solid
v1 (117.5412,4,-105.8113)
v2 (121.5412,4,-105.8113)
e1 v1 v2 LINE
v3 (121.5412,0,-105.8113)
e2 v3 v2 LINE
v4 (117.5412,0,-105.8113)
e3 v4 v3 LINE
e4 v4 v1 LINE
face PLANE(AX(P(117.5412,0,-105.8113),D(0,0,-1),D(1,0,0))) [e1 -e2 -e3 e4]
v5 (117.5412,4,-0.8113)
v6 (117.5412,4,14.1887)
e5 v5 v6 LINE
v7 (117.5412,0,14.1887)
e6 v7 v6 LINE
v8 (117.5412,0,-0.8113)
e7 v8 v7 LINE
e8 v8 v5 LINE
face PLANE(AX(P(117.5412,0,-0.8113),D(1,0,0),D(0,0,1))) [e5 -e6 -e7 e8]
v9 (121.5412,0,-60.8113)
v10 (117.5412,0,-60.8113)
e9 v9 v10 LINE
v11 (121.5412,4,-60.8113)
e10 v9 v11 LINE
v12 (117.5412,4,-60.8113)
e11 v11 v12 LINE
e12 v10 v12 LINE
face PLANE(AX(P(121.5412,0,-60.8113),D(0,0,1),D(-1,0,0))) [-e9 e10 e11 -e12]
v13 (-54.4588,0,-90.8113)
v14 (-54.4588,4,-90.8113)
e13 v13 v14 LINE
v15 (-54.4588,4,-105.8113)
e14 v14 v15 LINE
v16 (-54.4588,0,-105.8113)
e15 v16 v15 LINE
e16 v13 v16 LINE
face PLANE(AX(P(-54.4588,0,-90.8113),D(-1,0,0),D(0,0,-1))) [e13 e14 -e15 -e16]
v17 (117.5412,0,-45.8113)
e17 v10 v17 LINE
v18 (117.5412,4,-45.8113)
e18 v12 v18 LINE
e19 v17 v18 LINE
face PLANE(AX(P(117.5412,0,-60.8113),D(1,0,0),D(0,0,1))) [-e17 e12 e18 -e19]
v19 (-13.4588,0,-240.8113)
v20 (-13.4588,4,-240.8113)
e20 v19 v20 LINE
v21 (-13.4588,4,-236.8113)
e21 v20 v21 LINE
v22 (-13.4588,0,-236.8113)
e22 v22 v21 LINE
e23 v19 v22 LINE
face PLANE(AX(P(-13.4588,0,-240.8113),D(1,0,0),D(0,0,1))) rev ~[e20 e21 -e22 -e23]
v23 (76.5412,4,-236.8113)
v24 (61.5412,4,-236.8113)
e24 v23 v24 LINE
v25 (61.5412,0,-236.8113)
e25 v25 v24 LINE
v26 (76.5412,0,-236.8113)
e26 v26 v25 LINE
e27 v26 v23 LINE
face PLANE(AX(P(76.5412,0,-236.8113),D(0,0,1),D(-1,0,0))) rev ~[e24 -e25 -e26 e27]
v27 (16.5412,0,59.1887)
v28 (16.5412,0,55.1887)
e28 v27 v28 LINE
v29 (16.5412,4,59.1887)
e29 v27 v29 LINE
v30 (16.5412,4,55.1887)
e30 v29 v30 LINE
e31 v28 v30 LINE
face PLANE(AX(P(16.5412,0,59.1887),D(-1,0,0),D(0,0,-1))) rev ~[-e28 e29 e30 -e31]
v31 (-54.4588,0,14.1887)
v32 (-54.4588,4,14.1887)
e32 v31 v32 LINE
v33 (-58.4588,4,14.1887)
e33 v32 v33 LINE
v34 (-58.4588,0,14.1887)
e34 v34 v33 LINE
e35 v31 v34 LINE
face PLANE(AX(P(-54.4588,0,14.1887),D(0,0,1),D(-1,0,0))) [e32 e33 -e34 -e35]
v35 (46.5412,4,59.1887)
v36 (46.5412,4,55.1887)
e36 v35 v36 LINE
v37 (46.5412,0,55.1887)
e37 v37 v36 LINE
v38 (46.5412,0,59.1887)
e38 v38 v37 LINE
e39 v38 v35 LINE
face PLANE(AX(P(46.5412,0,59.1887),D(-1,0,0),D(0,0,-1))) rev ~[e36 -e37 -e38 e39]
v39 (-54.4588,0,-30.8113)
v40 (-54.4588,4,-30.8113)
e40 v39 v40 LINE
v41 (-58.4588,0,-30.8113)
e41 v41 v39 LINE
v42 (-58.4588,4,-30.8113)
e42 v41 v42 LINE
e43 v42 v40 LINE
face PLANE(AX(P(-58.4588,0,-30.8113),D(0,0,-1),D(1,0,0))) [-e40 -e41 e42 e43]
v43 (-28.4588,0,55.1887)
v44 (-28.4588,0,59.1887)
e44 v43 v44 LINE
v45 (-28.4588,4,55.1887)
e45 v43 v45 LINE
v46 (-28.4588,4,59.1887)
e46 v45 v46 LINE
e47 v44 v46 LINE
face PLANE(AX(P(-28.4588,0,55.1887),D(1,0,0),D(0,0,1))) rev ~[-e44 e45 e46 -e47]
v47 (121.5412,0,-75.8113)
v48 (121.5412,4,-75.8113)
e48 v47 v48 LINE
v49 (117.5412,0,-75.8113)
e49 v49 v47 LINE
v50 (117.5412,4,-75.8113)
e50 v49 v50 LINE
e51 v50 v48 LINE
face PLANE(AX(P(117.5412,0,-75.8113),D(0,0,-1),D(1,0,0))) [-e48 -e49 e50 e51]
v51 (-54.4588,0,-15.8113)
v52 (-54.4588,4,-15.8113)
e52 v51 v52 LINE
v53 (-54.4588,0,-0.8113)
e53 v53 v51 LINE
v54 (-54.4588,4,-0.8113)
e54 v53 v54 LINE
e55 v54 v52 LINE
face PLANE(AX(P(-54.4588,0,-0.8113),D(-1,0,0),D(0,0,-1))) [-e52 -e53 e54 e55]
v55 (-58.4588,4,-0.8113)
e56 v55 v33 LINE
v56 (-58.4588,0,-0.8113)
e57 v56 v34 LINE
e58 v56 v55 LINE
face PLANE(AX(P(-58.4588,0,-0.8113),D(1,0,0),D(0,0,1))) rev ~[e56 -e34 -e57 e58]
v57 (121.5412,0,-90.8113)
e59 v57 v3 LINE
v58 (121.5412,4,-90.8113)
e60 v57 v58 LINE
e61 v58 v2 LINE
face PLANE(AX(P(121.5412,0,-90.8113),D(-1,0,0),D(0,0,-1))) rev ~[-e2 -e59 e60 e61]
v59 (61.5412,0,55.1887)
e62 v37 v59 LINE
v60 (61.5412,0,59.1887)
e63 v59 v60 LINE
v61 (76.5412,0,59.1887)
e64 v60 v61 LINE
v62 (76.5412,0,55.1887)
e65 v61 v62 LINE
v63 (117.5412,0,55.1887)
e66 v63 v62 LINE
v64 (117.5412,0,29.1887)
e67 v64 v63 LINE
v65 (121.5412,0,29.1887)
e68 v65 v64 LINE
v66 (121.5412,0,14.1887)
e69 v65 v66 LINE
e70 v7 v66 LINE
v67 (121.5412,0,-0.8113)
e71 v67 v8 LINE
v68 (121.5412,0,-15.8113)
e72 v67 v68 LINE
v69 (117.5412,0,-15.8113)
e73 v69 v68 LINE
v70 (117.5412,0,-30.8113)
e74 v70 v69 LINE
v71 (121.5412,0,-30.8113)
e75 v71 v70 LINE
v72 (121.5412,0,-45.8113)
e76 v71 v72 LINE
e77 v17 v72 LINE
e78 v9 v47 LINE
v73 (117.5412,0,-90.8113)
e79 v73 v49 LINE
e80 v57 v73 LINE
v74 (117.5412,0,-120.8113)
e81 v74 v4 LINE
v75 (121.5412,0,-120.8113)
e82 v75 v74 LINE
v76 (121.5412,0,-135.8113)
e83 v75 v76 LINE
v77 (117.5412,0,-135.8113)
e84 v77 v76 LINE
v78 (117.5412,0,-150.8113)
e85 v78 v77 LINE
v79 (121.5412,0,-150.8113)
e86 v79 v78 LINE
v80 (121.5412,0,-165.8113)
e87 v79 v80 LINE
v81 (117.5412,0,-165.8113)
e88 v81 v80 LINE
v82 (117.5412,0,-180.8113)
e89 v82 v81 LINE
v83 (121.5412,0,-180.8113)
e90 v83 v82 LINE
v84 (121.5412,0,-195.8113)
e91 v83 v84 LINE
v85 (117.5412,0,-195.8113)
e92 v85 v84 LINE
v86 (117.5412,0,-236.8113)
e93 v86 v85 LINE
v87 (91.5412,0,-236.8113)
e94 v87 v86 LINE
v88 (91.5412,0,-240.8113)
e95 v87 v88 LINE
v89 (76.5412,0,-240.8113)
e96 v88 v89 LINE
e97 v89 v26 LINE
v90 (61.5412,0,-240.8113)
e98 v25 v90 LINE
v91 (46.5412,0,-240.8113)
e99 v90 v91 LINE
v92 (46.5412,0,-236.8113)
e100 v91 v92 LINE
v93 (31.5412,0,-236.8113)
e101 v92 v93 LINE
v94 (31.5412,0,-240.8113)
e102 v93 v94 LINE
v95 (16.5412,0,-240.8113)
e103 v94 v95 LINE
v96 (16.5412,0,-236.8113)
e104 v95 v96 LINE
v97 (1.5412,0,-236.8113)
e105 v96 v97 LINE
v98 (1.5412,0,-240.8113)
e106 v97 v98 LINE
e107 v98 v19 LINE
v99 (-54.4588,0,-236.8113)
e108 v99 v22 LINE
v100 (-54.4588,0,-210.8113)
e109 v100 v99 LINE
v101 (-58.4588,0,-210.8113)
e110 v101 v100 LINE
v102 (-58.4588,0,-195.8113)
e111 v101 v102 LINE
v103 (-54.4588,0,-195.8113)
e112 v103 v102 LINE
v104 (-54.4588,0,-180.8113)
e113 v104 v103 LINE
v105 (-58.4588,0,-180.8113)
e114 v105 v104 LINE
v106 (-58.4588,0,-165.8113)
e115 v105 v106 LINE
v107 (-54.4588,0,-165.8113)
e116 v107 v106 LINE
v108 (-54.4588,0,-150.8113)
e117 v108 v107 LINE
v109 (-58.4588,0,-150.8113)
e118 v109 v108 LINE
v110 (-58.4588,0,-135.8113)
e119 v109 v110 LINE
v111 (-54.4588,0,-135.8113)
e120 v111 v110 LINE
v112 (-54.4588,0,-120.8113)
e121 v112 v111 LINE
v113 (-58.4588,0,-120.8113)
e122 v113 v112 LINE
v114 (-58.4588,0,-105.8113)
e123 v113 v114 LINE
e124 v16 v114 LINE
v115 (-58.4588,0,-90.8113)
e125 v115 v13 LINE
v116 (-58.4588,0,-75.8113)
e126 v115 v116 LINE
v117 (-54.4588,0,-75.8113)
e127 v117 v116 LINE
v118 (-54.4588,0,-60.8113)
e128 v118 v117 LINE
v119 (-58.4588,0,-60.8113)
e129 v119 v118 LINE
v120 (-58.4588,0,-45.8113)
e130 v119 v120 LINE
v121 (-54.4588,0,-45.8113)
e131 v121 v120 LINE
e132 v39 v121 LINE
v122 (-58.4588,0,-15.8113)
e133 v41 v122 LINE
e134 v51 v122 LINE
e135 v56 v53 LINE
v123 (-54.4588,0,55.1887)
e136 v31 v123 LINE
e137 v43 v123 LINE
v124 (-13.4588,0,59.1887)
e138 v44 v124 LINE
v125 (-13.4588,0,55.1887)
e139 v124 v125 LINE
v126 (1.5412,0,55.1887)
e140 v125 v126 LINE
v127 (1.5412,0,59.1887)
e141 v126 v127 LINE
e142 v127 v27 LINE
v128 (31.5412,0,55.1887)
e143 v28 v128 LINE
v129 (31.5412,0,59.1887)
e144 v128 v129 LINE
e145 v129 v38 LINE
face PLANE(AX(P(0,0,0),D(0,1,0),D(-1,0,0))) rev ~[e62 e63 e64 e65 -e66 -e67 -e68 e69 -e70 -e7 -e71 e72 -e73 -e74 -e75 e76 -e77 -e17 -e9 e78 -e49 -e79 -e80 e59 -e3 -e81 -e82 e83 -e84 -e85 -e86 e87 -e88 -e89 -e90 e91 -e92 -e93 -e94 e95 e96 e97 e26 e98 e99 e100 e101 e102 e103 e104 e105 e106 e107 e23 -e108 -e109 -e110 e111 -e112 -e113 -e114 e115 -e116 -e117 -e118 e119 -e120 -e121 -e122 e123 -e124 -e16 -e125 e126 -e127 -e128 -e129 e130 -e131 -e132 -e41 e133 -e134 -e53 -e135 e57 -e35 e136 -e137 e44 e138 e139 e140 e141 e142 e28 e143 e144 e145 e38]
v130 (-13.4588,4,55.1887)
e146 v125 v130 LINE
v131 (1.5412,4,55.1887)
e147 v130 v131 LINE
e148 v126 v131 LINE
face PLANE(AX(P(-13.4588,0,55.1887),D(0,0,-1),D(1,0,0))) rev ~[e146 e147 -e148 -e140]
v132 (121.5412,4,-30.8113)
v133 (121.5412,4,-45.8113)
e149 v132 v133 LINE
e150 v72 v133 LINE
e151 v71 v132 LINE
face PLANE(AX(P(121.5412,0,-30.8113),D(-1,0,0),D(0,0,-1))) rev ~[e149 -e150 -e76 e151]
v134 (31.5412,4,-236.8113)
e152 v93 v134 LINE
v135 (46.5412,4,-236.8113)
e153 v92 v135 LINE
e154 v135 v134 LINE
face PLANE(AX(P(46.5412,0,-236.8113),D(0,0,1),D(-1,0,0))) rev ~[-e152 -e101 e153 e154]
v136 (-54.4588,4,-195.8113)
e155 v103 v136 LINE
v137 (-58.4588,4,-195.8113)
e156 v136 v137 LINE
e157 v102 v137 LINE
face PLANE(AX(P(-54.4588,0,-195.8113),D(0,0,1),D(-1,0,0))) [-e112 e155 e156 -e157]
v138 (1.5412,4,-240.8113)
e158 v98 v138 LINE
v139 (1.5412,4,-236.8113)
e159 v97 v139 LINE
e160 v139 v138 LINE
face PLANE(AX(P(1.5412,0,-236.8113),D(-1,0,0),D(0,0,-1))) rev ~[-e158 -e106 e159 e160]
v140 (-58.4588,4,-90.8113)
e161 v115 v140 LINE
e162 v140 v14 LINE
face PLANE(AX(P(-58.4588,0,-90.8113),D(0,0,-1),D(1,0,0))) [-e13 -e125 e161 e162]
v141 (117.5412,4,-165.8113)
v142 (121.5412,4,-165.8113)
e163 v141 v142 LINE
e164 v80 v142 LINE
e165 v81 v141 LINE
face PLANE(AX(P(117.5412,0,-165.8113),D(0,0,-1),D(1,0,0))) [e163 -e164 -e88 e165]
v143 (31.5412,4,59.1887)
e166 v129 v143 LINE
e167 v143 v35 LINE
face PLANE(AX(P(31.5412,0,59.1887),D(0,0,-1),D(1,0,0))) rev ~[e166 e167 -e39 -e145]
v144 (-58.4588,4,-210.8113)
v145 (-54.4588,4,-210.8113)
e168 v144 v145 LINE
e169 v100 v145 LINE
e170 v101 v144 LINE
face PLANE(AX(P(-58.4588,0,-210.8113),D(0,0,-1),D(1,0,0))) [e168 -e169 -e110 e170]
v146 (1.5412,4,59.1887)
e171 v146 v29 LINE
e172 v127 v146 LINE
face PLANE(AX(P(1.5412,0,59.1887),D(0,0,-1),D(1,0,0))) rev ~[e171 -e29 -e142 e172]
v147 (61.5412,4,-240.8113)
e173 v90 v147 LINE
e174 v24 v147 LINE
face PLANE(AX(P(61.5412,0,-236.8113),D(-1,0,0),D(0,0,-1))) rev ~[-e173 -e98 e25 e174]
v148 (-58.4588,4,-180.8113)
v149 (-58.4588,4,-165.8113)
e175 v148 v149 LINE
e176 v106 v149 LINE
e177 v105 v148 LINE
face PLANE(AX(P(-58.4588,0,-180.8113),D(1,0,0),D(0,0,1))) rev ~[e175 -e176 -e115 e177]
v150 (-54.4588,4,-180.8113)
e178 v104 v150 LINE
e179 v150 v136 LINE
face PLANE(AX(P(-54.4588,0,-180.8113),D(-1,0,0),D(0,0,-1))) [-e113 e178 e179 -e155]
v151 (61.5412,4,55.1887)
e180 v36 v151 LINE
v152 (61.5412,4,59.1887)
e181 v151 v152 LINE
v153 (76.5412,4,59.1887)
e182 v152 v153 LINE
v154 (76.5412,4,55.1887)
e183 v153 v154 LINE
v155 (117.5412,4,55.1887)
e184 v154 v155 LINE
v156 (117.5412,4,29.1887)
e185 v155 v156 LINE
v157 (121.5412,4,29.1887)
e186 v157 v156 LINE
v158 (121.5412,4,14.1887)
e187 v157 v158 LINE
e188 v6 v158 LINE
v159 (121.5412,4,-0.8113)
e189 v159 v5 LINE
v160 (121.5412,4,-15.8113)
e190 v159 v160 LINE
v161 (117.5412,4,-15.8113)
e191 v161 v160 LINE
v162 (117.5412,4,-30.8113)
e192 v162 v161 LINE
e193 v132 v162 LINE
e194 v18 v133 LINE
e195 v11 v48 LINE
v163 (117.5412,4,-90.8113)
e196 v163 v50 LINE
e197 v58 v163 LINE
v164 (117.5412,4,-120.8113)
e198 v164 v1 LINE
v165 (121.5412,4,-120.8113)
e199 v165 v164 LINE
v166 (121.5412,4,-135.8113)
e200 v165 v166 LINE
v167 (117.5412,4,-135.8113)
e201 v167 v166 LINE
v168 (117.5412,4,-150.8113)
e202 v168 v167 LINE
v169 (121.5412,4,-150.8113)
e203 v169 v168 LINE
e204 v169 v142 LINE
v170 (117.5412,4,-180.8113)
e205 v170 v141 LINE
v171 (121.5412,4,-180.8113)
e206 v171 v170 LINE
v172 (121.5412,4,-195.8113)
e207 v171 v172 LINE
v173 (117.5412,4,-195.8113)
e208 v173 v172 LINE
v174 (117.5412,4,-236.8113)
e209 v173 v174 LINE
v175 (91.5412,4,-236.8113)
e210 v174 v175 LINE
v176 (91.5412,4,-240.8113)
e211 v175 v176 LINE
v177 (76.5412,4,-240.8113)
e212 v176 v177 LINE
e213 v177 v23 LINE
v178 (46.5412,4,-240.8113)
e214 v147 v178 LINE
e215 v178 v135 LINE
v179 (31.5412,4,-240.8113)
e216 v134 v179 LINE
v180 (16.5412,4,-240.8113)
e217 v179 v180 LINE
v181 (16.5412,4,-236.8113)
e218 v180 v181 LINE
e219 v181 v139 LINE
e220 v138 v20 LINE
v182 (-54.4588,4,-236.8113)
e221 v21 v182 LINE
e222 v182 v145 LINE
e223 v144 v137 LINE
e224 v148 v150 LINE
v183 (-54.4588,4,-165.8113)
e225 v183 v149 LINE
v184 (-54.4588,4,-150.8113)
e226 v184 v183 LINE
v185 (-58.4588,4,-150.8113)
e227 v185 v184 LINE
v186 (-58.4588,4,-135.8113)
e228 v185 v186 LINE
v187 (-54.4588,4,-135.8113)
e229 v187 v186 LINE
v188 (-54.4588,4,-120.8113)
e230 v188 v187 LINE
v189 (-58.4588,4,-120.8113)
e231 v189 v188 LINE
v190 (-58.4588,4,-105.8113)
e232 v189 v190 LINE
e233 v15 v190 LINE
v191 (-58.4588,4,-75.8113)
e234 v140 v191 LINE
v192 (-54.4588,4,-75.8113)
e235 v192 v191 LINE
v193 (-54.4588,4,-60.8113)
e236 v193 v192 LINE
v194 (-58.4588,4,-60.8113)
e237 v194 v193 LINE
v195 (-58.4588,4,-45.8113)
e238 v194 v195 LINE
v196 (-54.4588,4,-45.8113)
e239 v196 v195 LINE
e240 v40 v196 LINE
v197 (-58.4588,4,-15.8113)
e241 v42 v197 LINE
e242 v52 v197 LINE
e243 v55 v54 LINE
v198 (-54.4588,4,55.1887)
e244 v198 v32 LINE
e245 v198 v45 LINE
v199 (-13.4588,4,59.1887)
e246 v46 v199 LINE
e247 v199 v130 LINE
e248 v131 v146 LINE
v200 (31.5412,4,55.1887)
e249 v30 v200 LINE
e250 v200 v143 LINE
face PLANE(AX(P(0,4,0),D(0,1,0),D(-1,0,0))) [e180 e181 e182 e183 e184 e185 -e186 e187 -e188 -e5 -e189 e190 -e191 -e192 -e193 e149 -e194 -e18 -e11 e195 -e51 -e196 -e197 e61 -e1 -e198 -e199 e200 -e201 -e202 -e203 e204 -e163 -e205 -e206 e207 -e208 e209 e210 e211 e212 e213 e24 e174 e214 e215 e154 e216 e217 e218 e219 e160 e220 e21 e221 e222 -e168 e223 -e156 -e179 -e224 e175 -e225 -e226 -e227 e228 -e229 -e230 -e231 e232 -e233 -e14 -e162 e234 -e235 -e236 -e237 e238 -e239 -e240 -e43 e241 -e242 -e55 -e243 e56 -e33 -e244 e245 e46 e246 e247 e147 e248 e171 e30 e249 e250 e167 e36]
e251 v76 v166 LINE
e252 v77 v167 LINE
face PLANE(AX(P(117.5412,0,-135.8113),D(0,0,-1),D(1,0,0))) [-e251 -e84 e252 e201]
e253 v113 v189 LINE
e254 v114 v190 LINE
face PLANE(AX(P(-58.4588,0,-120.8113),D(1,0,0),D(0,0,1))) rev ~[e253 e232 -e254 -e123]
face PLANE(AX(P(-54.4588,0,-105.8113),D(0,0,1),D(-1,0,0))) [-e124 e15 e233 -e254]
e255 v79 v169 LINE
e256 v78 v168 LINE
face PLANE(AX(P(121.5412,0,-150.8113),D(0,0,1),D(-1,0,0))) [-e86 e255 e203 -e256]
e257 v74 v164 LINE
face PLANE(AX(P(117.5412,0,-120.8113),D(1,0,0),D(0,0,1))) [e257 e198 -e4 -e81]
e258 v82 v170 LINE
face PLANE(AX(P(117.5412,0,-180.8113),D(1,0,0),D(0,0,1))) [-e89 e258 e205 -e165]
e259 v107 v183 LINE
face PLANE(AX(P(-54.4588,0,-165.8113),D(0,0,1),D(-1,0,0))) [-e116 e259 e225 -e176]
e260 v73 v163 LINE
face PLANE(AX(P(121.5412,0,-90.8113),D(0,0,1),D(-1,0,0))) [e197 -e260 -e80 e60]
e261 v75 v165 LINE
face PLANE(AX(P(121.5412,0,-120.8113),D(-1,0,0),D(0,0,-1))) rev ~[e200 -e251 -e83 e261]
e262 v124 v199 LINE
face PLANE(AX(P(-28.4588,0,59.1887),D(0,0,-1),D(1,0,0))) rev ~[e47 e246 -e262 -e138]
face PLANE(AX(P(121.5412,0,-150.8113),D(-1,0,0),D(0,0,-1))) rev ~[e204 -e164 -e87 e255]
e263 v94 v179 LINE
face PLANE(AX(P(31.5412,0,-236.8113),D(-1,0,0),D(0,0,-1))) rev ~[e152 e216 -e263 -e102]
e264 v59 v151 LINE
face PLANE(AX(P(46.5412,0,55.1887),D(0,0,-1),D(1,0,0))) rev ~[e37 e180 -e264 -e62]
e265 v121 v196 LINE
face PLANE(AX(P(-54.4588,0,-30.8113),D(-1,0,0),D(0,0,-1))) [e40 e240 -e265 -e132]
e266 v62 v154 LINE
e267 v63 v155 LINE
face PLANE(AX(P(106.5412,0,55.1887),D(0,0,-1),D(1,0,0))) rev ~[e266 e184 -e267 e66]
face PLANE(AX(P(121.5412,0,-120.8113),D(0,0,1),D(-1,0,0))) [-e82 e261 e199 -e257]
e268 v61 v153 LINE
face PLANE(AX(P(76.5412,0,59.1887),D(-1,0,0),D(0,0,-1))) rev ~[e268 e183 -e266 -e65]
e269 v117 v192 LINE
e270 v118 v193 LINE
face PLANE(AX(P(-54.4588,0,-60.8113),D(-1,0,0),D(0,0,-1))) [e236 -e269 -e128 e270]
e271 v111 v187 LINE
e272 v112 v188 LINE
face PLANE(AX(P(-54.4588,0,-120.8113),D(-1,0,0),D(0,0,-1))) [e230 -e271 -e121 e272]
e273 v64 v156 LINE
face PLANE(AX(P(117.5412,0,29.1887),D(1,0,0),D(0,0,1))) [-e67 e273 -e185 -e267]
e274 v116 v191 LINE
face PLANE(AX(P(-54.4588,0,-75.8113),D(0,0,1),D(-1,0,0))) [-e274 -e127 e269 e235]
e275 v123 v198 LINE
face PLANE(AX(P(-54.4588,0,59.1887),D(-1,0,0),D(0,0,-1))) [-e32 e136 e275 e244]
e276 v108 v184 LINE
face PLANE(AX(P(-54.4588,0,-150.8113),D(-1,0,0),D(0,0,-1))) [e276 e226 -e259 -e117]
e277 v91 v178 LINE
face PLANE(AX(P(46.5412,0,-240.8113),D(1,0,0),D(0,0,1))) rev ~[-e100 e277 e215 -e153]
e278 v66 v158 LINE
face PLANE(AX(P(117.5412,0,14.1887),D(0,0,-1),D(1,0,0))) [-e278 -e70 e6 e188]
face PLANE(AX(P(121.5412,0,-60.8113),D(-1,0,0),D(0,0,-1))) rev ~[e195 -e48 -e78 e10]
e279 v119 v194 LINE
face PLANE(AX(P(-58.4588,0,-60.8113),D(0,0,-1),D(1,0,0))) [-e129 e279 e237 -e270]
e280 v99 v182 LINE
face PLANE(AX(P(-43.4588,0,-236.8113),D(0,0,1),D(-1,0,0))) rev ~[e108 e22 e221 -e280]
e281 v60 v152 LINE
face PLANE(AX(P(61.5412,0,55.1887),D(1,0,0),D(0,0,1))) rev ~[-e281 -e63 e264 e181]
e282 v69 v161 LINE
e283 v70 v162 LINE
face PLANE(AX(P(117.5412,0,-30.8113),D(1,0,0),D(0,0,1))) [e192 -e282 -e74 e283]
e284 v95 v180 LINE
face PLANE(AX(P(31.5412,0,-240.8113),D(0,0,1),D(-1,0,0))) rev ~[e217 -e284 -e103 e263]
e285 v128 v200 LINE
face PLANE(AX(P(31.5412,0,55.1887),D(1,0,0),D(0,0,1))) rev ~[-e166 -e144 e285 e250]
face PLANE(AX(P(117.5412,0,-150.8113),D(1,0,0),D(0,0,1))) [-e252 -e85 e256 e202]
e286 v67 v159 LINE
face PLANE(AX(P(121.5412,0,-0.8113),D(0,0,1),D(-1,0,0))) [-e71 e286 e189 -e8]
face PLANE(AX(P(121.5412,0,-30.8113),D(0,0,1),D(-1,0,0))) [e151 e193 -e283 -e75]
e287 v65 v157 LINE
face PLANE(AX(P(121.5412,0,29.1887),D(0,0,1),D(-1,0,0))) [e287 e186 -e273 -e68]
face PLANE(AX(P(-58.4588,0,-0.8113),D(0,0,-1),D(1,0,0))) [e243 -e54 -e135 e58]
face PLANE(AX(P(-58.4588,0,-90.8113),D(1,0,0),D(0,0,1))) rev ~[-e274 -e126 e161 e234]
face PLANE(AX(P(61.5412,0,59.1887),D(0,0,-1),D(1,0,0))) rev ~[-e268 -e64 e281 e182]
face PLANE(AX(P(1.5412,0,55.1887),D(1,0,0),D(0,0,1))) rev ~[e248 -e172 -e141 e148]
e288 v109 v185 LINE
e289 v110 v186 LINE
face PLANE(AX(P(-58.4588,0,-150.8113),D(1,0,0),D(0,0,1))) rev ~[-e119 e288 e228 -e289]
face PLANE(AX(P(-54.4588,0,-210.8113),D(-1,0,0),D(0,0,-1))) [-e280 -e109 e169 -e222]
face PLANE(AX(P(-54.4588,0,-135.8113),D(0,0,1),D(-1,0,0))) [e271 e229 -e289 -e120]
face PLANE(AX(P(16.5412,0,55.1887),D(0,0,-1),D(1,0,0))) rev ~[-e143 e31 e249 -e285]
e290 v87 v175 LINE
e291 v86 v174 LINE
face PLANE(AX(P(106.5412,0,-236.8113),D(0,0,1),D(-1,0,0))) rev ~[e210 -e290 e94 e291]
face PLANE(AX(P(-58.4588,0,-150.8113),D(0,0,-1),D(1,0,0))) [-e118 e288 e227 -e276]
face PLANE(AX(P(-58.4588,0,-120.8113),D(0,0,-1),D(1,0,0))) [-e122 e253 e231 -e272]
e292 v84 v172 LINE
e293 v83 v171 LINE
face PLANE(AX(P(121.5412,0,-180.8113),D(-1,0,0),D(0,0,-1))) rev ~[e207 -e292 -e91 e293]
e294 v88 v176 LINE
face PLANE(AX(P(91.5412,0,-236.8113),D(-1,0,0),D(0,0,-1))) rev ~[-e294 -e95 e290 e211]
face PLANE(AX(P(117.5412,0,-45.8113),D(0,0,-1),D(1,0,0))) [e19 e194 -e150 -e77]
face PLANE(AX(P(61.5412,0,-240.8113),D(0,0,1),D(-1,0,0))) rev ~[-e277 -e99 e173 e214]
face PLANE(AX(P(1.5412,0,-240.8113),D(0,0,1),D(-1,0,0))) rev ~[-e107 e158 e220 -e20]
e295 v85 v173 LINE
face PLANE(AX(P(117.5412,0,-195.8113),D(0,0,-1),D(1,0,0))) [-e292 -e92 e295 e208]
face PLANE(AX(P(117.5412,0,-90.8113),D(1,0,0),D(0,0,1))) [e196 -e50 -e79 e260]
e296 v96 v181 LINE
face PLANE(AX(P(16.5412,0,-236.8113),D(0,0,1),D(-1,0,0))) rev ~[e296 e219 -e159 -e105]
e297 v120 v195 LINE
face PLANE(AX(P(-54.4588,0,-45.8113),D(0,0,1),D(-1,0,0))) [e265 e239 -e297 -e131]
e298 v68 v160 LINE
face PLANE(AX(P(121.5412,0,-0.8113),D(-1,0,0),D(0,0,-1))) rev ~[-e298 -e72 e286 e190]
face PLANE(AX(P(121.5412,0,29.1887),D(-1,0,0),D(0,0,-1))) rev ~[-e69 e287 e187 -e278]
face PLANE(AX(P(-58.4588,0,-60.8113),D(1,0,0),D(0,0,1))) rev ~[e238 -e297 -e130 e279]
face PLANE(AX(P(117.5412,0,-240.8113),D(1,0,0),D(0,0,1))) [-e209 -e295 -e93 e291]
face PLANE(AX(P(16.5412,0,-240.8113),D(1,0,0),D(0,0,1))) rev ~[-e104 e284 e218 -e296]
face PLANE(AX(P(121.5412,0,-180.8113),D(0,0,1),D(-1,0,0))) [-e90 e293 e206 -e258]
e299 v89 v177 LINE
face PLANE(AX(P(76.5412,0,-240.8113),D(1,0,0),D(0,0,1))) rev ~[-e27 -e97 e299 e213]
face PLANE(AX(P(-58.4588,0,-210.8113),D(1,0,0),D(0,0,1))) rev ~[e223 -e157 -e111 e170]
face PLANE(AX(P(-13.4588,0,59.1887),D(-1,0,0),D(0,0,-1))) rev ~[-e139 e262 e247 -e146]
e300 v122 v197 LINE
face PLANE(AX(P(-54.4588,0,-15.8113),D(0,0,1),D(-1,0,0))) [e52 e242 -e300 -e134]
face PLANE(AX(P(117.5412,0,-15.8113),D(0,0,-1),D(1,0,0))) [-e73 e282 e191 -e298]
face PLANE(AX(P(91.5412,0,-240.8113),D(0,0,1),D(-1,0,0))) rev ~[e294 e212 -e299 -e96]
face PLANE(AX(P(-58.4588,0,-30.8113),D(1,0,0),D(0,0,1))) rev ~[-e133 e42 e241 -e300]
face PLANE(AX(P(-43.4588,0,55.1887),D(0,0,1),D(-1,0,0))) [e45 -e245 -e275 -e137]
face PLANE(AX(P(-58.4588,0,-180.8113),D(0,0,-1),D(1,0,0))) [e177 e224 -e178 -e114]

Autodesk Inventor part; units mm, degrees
ref_plane "YZ Plane" through (0, 0, 0) normal (1, 0, 0) x (0, 1, 0)
ref_plane "XZ Plane" through (0, 0, 0) normal (0, 1, 0) x (-1, 0, 0)
ref_plane "XY Plane" through (0, 0, 0) normal (0, 0, 1) x (1, 0, 0)
sketch "Sketch1" plane through (0, 0, 0) normal (0, 1, 0) x (-1, 0, 0)
  line L0 (58.4588, 59.1887) -> (-121.5412, 59.1887)
  line L1 (-121.5412, -240.8113) -> (58.4588, -240.8113)
  line L2 (58.4588, -240.8113) -> (58.4588, 59.1887)
  line L3 (-121.5412, 59.1887) -> (-121.5412, -240.8113)
  line L4 (58.4588, 59.1887) -> (54.4588, 59.1887)
  line L5 (54.4588, 59.1887) -> (54.4588, 44.1887)
  line L6 (54.4588, 44.1887) -> (58.4588, 44.1887)
  line L7 (58.4588, 44.1887) -> (58.4588, 59.1887)
  line L8 (54.4588, 29.1887) -> (54.4588, 14.1887)
  line L9 (54.4588, 14.1887) -> (58.4588, 14.1887)
  line L10 (58.4588, 29.1887) -> (54.4588, 29.1887)
  line L11 (54.4588, -0.8113) -> (54.4588, -15.8113)
  line L12 (54.4588, -15.8113) -> (58.4588, -15.8113)
  line L13 (58.4588, -0.8113) -> (54.4588, -0.8113)
  line L14 (54.4588, -30.8113) -> (54.4588, -45.8113)
  line L15 (54.4588, -45.8113) -> (58.4588, -45.8113)
  line L16 (58.4588, -30.8113) -> (54.4588, -30.8113)
  line L17 (54.4588, -60.8113) -> (54.4588, -75.8113)
  line L18 (54.4588, -75.8113) -> (58.4588, -75.8113)
  line L19 (58.4588, -60.8113) -> (54.4588, -60.8113)
  line L20 (54.4588, -90.8113) -> (54.4588, -105.8113)
  line L21 (54.4588, -105.8113) -> (58.4588, -105.8113)
  line L22 (58.4588, -90.8113) -> (54.4588, -90.8113)
  line L23 (54.4588, -120.8113) -> (54.4588, -135.8113)
  line L24 (54.4588, -135.8113) -> (58.4588, -135.8113)
  line L25 (58.4588, -120.8113) -> (54.4588, -120.8113)
  line L26 (54.4588, -150.8113) -> (54.4588, -165.8113)
  line L27 (54.4588, -165.8113) -> (58.4588, -165.8113)
  line L28 (58.4588, -150.8113) -> (54.4588, -150.8113)
  line L29 (54.4588, -180.8113) -> (54.4588, -195.8113)
  line L30 (54.4588, -195.8113) -> (58.4588, -195.8113)
  line L31 (58.4588, -180.8113) -> (54.4588, -180.8113)
  line L32 (54.4588, -210.8113) -> (54.4588, -225.8113)
  line L33 (54.4588, -225.8113) -> (58.4588, -225.8113)
  line L34 (58.4588, -210.8113) -> (54.4588, -210.8113)
  line L35 (-121.5412, -240.8113) -> (-117.5412, -240.8113)
  line L36 (-117.5412, -240.8113) -> (-117.5412, -225.8113)
  line L37 (-117.5412, -225.8113) -> (-121.5412, -225.8113)
  line L38 (-121.5412, -225.8113) -> (-121.5412, -240.8113)
  line L39 (-117.5412, -210.8113) -> (-117.5412, -195.8113)
  line L40 (-117.5412, -195.8113) -> (-121.5412, -195.8113)
  line L41 (-121.5412, -210.8113) -> (-117.5412, -210.8113)
  line L42 (-117.5412, -180.8113) -> (-117.5412, -165.8113)
  line L43 (-117.5412, -165.8113) -> (-121.5412, -165.8113)
  line L44 (-121.5412, -180.8113) -> (-117.5412, -180.8113)
  line L45 (-117.5412, -150.8113) -> (-117.5412, -135.8113)
  line L46 (-117.5412, -135.8113) -> (-121.5412, -135.8113)
  line L47 (-121.5412, -150.8113) -> (-117.5412, -150.8113)
  line L48 (-117.5412, -120.8113) -> (-117.5412, -105.8113)
  line L49 (-117.5412, -105.8113) -> (-121.5412, -105.8113)
  line L50 (-121.5412, -120.8113) -> (-117.5412, -120.8113)
  line L51 (-117.5412, -90.8113) -> (-117.5412, -75.8113)
  line L52 (-117.5412, -75.8113) -> (-121.5412, -75.8113)
  line L53 (-121.5412, -90.8113) -> (-117.5412, -90.8113)
  line L54 (-117.5412, -60.8113) -> (-117.5412, -45.8113)
  line L55 (-117.5412, -45.8113) -> (-121.5412, -45.8113)
  line L56 (-121.5412, -60.8113) -> (-117.5412, -60.8113)
  line L57 (-117.5412, -30.8113) -> (-117.5412, -15.8113)
  line L58 (-117.5412, -15.8113) -> (-121.5412, -15.8113)
  line L59 (-121.5412, -30.8113) -> (-117.5412, -30.8113)
  line L60 (-117.5412, -0.8113) -> (-117.5412, 14.1887)
  line L61 (-117.5412, 14.1887) -> (-121.5412, 14.1887)
  line L62 (-121.5412, -0.8113) -> (-117.5412, -0.8113)
  line L63 (-117.5412, 29.1887) -> (-117.5412, 44.1887)
  line L64 (-117.5412, 44.1887) -> (-121.5412, 44.1887)
  line L65 (-121.5412, 29.1887) -> (-117.5412, 29.1887)
  line L66 (58.4588, -240.8113) -> (43.4588, -240.8113)
  line L67 (43.4588, -240.8113) -> (43.4588, -236.8113)
  line L68 (43.4588, -236.8113) -> (58.4588, -236.8113)
  line L69 (58.4588, -236.8113) -> (58.4588, -240.8113)
  line L70 (13.4588, -236.8113) -> (28.4588, -236.8113)
  line L71 (13.4588, -240.8113) -> (13.4588, -236.8113)
  line L72 (28.4588, -236.8113) -> (28.4588, -240.8113)
  line L73 (-16.5412, -236.8113) -> (-1.5412, -236.8113)
  line L74 (-16.5412, -240.8113) -> (-16.5412, -236.8113)
  line L75 (-1.5412, -236.8113) -> (-1.5412, -240.8113)
  line L76 (-46.5412, -236.8113) -> (-31.5412, -236.8113)
  line L77 (-46.5412, -240.8113) -> (-46.5412, -236.8113)
  line L78 (-31.5412, -236.8113) -> (-31.5412, -240.8113)
  line L79 (-76.5412, -236.8113) -> (-61.5412, -236.8113)
  line L80 (-76.5412, -240.8113) -> (-76.5412, -236.8113)
  line L81 (-61.5412, -236.8113) -> (-61.5412, -240.8113)
  line L82 (-106.5412, -236.8113) -> (-91.5412, -236.8113)
  line L83 (-106.5412, -240.8113) -> (-106.5412, -236.8113)
  line L84 (-91.5412, -236.8113) -> (-91.5412, -240.8113)
  line L85 (-121.5412, 59.1887) -> (-106.5412, 59.1887)
  line L86 (-106.5412, 59.1887) -> (-106.5412, 55.1887)
  line L87 (-106.5412, 55.1887) -> (-121.5412, 55.1887)
  line L88 (-121.5412, 55.1887) -> (-121.5412, 59.1887)
  line L89 (-76.5412, 59.1887) -> (-76.5412, 55.1887)
  line L90 (-76.5412, 55.1887) -> (-91.5412, 55.1887)
  line L91 (-91.5412, 55.1887) -> (-91.5412, 59.1887)
  line L92 (-46.5412, 59.1887) -> (-46.5412, 55.1887)
  line L93 (-46.5412, 55.1887) -> (-61.5412, 55.1887)
  line L94 (-61.5412, 55.1887) -> (-61.5412, 59.1887)
  line L95 (-16.5412, 59.1887) -> (-16.5412, 55.1887)
  line L96 (-16.5412, 55.1887) -> (-31.5412, 55.1887)
  line L97 (-31.5412, 55.1887) -> (-31.5412, 59.1887)
  line L98 (13.4588, 59.1887) -> (13.4588, 55.1887)
  line L99 (13.4588, 55.1887) -> (-1.5412, 55.1887)
  line L100 (-1.5412, 55.1887) -> (-1.5412, 59.1887)
  line L101 (43.4588, 59.1887) -> (43.4588, 55.1887)
  line L102 (43.4588, 55.1887) -> (28.4588, 55.1887)
  line L103 (28.4588, 55.1887) -> (28.4588, 59.1887)
  dimension "d22" = 4
  dimension "d23" = 15
  dimension "d26" = 30
  dimension "d31" = 4
  dimension "d32" = 15
  dimension "d35" = 30
  dimension "d40" = 15
  dimension "d41" = 4
  dimension "d44" = 30
  dimension "d49" = 15
  dimension "d50" = 4
  dimension "d53" = 30
extrude "Extrusion1" add sketch "Sketch1" along normal blind 4 contours L5 L6 L2 L10 L8 L9 L13 L11 L12 L16 L14 L15 L19 L17 L18 L22 L20 L21 L25 L23 L24 L28 L26 L27 L31 L29 L30 L34 L32 L33 L68 L67 L1 L72 L70 L71 L75 L73 L74 L78 L76 L77 L81 L79 L80 L84 L82 L83 L36 L37 L3 L41 L39 L40 L44 L42 L43 L47 L45 L46 L50 L48 L49 L53 L51 L52 L56 L54 L55 L59 L57 L58 L62 L60 L61 L65 L63 L64 L87 L86 L0 L91 L90 L89 L94 L93 L92 L97 L96 L95 L100 L99 L98 L103 L102 L101
sketch "Sketch2" plane through (0, 0, 0) normal (0, -1, 0) x (1, 0, 0)
  line L0 (-54.4588, 29.1887) -> (-58.4588, 29.1887) projected
  line L1 (-58.4588, 29.1887) -> (-58.4588, 44.1887) projected
  line L2 (-54.4588, 29.1887) -> (-58.4588, 29.1887)
  line L3 (-58.4588, 29.1887) -> (-58.4588, 44.1887)
  line L4 (-58.4588, 44.1887) -> (-54.4588, 44.1887)
  line L5 (-54.4588, 44.1887) -> (-54.4588, 29.1887)
  line L6 (91.5412, 59.1887) -> (106.5412, 59.1887) projected
  line L7 (91.5412, 59.1887) -> (106.5412, 59.1887)
  line L8 (106.5412, 59.1887) -> (106.5412, 55.1887)
  line L9 (106.5412, 55.1887) -> (91.5412, 55.1887)
  line L10 (91.5412, 55.1887) -> (91.5412, 59.1887)
  line L11 (117.5412, -225.8113) -> (117.5412, -240.8113) projected
  line L12 (106.5412, -236.8113) -> (91.5412, -236.8113) projected
  line L13 (117.5412, -240.8113) -> (106.5412, -240.8113)
  line L14 (106.5412, -240.8113) -> (106.5412, -236.8113)
  line L15 (106.5412, -236.8113) -> (117.5412, -236.8113)
  line L16 (117.5412, -236.8113) -> (117.5412, -240.8113)
  line L17 (121.5412, -225.8113) -> (117.5412, -225.8113) projected
  line L18 (121.5412, -210.8113) -> (121.5412, -225.8113) projected
  line L19 (117.5412, -225.8113) -> (121.5412, -225.8113)
  line L20 (121.5412, -225.8113) -> (121.5412, -210.8113)
  line L21 (121.5412, -210.8113) -> (117.5412, -210.8113)
  line L22 (117.5412, -210.8113) -> (117.5412, -225.8113)
  line L23 (-54.4588, -225.8113) -> (-54.4588, -210.8113) projected
  line L24 (-54.4588, -225.8113) -> (-58.4588, -225.8113)
  line L25 (-58.4588, -225.8113) -> (-58.4588, -236.8113)
  line L26 (-58.4588, -236.8113) -> (-54.4588, -236.8113)
  line L27 (-54.4588, -236.8113) -> (-54.4588, -225.8113)
  line L28 (-28.4588, -240.8113) -> (-43.4588, -240.8113) projected
  line L29 (-43.4588, -240.8113) -> (-43.4588, -236.8113) projected
  line L30 (-28.4588, -240.8113) -> (-43.4588, -240.8113)
  line L31 (-43.4588, -240.8113) -> (-43.4588, -236.8113)
  line L32 (-43.4588, -236.8113) -> (-28.4588, -236.8113)
  line L33 (-28.4588, -236.8113) -> (-28.4588, -240.8113)
  line L34 (121.5412, 55.1887) -> (121.5412, 44.1887) projected
  line L35 (121.5412, 44.1887) -> (117.5412, 44.1887) projected
  line L36 (121.5412, 55.1887) -> (117.5412, 55.1887)
  line L37 (117.5412, 55.1887) -> (117.5412, 44.1887)
  line L38 (117.5412, 44.1887) -> (121.5412, 44.1887)
  line L39 (121.5412, 44.1887) -> (121.5412, 55.1887)
  line L40 (-54.4588, 59.1887) -> (-43.4588, 59.1887) projected
  line L41 (-43.4588, 55.1887) -> (-28.4588, 55.1887) projected
  line L42 (-54.4588, 59.1887) -> (-43.4588, 59.1887)
  line L43 (-43.4588, 59.1887) -> (-43.4588, 55.1887)
  line L44 (-43.4588, 55.1887) -> (-54.4588, 55.1887)
  line L45 (-54.4588, 55.1887) -> (-54.4588, 59.1887)
  point P0 (0, 0)
extrude "Extrusion2" cut sketch "Sketch2" against normal through all
equation "\"d22\" = WoodThickness"
equation "\"d26\" = 2 * d23"
equation "\"d31\" = WoodThickness"
equation "\"d35\" = 2 * d32"
equation "\"d41\" = WoodThickness"
equation "\"d44\" = 2 * d40"
equation "\"d50\" = WoodThickness"
equation "\"d53\" = 2 * d49"
equation "\"d2\" = WoodThickness"
equation "\"WoodThickness\" = 4"
properties part number "ground"
